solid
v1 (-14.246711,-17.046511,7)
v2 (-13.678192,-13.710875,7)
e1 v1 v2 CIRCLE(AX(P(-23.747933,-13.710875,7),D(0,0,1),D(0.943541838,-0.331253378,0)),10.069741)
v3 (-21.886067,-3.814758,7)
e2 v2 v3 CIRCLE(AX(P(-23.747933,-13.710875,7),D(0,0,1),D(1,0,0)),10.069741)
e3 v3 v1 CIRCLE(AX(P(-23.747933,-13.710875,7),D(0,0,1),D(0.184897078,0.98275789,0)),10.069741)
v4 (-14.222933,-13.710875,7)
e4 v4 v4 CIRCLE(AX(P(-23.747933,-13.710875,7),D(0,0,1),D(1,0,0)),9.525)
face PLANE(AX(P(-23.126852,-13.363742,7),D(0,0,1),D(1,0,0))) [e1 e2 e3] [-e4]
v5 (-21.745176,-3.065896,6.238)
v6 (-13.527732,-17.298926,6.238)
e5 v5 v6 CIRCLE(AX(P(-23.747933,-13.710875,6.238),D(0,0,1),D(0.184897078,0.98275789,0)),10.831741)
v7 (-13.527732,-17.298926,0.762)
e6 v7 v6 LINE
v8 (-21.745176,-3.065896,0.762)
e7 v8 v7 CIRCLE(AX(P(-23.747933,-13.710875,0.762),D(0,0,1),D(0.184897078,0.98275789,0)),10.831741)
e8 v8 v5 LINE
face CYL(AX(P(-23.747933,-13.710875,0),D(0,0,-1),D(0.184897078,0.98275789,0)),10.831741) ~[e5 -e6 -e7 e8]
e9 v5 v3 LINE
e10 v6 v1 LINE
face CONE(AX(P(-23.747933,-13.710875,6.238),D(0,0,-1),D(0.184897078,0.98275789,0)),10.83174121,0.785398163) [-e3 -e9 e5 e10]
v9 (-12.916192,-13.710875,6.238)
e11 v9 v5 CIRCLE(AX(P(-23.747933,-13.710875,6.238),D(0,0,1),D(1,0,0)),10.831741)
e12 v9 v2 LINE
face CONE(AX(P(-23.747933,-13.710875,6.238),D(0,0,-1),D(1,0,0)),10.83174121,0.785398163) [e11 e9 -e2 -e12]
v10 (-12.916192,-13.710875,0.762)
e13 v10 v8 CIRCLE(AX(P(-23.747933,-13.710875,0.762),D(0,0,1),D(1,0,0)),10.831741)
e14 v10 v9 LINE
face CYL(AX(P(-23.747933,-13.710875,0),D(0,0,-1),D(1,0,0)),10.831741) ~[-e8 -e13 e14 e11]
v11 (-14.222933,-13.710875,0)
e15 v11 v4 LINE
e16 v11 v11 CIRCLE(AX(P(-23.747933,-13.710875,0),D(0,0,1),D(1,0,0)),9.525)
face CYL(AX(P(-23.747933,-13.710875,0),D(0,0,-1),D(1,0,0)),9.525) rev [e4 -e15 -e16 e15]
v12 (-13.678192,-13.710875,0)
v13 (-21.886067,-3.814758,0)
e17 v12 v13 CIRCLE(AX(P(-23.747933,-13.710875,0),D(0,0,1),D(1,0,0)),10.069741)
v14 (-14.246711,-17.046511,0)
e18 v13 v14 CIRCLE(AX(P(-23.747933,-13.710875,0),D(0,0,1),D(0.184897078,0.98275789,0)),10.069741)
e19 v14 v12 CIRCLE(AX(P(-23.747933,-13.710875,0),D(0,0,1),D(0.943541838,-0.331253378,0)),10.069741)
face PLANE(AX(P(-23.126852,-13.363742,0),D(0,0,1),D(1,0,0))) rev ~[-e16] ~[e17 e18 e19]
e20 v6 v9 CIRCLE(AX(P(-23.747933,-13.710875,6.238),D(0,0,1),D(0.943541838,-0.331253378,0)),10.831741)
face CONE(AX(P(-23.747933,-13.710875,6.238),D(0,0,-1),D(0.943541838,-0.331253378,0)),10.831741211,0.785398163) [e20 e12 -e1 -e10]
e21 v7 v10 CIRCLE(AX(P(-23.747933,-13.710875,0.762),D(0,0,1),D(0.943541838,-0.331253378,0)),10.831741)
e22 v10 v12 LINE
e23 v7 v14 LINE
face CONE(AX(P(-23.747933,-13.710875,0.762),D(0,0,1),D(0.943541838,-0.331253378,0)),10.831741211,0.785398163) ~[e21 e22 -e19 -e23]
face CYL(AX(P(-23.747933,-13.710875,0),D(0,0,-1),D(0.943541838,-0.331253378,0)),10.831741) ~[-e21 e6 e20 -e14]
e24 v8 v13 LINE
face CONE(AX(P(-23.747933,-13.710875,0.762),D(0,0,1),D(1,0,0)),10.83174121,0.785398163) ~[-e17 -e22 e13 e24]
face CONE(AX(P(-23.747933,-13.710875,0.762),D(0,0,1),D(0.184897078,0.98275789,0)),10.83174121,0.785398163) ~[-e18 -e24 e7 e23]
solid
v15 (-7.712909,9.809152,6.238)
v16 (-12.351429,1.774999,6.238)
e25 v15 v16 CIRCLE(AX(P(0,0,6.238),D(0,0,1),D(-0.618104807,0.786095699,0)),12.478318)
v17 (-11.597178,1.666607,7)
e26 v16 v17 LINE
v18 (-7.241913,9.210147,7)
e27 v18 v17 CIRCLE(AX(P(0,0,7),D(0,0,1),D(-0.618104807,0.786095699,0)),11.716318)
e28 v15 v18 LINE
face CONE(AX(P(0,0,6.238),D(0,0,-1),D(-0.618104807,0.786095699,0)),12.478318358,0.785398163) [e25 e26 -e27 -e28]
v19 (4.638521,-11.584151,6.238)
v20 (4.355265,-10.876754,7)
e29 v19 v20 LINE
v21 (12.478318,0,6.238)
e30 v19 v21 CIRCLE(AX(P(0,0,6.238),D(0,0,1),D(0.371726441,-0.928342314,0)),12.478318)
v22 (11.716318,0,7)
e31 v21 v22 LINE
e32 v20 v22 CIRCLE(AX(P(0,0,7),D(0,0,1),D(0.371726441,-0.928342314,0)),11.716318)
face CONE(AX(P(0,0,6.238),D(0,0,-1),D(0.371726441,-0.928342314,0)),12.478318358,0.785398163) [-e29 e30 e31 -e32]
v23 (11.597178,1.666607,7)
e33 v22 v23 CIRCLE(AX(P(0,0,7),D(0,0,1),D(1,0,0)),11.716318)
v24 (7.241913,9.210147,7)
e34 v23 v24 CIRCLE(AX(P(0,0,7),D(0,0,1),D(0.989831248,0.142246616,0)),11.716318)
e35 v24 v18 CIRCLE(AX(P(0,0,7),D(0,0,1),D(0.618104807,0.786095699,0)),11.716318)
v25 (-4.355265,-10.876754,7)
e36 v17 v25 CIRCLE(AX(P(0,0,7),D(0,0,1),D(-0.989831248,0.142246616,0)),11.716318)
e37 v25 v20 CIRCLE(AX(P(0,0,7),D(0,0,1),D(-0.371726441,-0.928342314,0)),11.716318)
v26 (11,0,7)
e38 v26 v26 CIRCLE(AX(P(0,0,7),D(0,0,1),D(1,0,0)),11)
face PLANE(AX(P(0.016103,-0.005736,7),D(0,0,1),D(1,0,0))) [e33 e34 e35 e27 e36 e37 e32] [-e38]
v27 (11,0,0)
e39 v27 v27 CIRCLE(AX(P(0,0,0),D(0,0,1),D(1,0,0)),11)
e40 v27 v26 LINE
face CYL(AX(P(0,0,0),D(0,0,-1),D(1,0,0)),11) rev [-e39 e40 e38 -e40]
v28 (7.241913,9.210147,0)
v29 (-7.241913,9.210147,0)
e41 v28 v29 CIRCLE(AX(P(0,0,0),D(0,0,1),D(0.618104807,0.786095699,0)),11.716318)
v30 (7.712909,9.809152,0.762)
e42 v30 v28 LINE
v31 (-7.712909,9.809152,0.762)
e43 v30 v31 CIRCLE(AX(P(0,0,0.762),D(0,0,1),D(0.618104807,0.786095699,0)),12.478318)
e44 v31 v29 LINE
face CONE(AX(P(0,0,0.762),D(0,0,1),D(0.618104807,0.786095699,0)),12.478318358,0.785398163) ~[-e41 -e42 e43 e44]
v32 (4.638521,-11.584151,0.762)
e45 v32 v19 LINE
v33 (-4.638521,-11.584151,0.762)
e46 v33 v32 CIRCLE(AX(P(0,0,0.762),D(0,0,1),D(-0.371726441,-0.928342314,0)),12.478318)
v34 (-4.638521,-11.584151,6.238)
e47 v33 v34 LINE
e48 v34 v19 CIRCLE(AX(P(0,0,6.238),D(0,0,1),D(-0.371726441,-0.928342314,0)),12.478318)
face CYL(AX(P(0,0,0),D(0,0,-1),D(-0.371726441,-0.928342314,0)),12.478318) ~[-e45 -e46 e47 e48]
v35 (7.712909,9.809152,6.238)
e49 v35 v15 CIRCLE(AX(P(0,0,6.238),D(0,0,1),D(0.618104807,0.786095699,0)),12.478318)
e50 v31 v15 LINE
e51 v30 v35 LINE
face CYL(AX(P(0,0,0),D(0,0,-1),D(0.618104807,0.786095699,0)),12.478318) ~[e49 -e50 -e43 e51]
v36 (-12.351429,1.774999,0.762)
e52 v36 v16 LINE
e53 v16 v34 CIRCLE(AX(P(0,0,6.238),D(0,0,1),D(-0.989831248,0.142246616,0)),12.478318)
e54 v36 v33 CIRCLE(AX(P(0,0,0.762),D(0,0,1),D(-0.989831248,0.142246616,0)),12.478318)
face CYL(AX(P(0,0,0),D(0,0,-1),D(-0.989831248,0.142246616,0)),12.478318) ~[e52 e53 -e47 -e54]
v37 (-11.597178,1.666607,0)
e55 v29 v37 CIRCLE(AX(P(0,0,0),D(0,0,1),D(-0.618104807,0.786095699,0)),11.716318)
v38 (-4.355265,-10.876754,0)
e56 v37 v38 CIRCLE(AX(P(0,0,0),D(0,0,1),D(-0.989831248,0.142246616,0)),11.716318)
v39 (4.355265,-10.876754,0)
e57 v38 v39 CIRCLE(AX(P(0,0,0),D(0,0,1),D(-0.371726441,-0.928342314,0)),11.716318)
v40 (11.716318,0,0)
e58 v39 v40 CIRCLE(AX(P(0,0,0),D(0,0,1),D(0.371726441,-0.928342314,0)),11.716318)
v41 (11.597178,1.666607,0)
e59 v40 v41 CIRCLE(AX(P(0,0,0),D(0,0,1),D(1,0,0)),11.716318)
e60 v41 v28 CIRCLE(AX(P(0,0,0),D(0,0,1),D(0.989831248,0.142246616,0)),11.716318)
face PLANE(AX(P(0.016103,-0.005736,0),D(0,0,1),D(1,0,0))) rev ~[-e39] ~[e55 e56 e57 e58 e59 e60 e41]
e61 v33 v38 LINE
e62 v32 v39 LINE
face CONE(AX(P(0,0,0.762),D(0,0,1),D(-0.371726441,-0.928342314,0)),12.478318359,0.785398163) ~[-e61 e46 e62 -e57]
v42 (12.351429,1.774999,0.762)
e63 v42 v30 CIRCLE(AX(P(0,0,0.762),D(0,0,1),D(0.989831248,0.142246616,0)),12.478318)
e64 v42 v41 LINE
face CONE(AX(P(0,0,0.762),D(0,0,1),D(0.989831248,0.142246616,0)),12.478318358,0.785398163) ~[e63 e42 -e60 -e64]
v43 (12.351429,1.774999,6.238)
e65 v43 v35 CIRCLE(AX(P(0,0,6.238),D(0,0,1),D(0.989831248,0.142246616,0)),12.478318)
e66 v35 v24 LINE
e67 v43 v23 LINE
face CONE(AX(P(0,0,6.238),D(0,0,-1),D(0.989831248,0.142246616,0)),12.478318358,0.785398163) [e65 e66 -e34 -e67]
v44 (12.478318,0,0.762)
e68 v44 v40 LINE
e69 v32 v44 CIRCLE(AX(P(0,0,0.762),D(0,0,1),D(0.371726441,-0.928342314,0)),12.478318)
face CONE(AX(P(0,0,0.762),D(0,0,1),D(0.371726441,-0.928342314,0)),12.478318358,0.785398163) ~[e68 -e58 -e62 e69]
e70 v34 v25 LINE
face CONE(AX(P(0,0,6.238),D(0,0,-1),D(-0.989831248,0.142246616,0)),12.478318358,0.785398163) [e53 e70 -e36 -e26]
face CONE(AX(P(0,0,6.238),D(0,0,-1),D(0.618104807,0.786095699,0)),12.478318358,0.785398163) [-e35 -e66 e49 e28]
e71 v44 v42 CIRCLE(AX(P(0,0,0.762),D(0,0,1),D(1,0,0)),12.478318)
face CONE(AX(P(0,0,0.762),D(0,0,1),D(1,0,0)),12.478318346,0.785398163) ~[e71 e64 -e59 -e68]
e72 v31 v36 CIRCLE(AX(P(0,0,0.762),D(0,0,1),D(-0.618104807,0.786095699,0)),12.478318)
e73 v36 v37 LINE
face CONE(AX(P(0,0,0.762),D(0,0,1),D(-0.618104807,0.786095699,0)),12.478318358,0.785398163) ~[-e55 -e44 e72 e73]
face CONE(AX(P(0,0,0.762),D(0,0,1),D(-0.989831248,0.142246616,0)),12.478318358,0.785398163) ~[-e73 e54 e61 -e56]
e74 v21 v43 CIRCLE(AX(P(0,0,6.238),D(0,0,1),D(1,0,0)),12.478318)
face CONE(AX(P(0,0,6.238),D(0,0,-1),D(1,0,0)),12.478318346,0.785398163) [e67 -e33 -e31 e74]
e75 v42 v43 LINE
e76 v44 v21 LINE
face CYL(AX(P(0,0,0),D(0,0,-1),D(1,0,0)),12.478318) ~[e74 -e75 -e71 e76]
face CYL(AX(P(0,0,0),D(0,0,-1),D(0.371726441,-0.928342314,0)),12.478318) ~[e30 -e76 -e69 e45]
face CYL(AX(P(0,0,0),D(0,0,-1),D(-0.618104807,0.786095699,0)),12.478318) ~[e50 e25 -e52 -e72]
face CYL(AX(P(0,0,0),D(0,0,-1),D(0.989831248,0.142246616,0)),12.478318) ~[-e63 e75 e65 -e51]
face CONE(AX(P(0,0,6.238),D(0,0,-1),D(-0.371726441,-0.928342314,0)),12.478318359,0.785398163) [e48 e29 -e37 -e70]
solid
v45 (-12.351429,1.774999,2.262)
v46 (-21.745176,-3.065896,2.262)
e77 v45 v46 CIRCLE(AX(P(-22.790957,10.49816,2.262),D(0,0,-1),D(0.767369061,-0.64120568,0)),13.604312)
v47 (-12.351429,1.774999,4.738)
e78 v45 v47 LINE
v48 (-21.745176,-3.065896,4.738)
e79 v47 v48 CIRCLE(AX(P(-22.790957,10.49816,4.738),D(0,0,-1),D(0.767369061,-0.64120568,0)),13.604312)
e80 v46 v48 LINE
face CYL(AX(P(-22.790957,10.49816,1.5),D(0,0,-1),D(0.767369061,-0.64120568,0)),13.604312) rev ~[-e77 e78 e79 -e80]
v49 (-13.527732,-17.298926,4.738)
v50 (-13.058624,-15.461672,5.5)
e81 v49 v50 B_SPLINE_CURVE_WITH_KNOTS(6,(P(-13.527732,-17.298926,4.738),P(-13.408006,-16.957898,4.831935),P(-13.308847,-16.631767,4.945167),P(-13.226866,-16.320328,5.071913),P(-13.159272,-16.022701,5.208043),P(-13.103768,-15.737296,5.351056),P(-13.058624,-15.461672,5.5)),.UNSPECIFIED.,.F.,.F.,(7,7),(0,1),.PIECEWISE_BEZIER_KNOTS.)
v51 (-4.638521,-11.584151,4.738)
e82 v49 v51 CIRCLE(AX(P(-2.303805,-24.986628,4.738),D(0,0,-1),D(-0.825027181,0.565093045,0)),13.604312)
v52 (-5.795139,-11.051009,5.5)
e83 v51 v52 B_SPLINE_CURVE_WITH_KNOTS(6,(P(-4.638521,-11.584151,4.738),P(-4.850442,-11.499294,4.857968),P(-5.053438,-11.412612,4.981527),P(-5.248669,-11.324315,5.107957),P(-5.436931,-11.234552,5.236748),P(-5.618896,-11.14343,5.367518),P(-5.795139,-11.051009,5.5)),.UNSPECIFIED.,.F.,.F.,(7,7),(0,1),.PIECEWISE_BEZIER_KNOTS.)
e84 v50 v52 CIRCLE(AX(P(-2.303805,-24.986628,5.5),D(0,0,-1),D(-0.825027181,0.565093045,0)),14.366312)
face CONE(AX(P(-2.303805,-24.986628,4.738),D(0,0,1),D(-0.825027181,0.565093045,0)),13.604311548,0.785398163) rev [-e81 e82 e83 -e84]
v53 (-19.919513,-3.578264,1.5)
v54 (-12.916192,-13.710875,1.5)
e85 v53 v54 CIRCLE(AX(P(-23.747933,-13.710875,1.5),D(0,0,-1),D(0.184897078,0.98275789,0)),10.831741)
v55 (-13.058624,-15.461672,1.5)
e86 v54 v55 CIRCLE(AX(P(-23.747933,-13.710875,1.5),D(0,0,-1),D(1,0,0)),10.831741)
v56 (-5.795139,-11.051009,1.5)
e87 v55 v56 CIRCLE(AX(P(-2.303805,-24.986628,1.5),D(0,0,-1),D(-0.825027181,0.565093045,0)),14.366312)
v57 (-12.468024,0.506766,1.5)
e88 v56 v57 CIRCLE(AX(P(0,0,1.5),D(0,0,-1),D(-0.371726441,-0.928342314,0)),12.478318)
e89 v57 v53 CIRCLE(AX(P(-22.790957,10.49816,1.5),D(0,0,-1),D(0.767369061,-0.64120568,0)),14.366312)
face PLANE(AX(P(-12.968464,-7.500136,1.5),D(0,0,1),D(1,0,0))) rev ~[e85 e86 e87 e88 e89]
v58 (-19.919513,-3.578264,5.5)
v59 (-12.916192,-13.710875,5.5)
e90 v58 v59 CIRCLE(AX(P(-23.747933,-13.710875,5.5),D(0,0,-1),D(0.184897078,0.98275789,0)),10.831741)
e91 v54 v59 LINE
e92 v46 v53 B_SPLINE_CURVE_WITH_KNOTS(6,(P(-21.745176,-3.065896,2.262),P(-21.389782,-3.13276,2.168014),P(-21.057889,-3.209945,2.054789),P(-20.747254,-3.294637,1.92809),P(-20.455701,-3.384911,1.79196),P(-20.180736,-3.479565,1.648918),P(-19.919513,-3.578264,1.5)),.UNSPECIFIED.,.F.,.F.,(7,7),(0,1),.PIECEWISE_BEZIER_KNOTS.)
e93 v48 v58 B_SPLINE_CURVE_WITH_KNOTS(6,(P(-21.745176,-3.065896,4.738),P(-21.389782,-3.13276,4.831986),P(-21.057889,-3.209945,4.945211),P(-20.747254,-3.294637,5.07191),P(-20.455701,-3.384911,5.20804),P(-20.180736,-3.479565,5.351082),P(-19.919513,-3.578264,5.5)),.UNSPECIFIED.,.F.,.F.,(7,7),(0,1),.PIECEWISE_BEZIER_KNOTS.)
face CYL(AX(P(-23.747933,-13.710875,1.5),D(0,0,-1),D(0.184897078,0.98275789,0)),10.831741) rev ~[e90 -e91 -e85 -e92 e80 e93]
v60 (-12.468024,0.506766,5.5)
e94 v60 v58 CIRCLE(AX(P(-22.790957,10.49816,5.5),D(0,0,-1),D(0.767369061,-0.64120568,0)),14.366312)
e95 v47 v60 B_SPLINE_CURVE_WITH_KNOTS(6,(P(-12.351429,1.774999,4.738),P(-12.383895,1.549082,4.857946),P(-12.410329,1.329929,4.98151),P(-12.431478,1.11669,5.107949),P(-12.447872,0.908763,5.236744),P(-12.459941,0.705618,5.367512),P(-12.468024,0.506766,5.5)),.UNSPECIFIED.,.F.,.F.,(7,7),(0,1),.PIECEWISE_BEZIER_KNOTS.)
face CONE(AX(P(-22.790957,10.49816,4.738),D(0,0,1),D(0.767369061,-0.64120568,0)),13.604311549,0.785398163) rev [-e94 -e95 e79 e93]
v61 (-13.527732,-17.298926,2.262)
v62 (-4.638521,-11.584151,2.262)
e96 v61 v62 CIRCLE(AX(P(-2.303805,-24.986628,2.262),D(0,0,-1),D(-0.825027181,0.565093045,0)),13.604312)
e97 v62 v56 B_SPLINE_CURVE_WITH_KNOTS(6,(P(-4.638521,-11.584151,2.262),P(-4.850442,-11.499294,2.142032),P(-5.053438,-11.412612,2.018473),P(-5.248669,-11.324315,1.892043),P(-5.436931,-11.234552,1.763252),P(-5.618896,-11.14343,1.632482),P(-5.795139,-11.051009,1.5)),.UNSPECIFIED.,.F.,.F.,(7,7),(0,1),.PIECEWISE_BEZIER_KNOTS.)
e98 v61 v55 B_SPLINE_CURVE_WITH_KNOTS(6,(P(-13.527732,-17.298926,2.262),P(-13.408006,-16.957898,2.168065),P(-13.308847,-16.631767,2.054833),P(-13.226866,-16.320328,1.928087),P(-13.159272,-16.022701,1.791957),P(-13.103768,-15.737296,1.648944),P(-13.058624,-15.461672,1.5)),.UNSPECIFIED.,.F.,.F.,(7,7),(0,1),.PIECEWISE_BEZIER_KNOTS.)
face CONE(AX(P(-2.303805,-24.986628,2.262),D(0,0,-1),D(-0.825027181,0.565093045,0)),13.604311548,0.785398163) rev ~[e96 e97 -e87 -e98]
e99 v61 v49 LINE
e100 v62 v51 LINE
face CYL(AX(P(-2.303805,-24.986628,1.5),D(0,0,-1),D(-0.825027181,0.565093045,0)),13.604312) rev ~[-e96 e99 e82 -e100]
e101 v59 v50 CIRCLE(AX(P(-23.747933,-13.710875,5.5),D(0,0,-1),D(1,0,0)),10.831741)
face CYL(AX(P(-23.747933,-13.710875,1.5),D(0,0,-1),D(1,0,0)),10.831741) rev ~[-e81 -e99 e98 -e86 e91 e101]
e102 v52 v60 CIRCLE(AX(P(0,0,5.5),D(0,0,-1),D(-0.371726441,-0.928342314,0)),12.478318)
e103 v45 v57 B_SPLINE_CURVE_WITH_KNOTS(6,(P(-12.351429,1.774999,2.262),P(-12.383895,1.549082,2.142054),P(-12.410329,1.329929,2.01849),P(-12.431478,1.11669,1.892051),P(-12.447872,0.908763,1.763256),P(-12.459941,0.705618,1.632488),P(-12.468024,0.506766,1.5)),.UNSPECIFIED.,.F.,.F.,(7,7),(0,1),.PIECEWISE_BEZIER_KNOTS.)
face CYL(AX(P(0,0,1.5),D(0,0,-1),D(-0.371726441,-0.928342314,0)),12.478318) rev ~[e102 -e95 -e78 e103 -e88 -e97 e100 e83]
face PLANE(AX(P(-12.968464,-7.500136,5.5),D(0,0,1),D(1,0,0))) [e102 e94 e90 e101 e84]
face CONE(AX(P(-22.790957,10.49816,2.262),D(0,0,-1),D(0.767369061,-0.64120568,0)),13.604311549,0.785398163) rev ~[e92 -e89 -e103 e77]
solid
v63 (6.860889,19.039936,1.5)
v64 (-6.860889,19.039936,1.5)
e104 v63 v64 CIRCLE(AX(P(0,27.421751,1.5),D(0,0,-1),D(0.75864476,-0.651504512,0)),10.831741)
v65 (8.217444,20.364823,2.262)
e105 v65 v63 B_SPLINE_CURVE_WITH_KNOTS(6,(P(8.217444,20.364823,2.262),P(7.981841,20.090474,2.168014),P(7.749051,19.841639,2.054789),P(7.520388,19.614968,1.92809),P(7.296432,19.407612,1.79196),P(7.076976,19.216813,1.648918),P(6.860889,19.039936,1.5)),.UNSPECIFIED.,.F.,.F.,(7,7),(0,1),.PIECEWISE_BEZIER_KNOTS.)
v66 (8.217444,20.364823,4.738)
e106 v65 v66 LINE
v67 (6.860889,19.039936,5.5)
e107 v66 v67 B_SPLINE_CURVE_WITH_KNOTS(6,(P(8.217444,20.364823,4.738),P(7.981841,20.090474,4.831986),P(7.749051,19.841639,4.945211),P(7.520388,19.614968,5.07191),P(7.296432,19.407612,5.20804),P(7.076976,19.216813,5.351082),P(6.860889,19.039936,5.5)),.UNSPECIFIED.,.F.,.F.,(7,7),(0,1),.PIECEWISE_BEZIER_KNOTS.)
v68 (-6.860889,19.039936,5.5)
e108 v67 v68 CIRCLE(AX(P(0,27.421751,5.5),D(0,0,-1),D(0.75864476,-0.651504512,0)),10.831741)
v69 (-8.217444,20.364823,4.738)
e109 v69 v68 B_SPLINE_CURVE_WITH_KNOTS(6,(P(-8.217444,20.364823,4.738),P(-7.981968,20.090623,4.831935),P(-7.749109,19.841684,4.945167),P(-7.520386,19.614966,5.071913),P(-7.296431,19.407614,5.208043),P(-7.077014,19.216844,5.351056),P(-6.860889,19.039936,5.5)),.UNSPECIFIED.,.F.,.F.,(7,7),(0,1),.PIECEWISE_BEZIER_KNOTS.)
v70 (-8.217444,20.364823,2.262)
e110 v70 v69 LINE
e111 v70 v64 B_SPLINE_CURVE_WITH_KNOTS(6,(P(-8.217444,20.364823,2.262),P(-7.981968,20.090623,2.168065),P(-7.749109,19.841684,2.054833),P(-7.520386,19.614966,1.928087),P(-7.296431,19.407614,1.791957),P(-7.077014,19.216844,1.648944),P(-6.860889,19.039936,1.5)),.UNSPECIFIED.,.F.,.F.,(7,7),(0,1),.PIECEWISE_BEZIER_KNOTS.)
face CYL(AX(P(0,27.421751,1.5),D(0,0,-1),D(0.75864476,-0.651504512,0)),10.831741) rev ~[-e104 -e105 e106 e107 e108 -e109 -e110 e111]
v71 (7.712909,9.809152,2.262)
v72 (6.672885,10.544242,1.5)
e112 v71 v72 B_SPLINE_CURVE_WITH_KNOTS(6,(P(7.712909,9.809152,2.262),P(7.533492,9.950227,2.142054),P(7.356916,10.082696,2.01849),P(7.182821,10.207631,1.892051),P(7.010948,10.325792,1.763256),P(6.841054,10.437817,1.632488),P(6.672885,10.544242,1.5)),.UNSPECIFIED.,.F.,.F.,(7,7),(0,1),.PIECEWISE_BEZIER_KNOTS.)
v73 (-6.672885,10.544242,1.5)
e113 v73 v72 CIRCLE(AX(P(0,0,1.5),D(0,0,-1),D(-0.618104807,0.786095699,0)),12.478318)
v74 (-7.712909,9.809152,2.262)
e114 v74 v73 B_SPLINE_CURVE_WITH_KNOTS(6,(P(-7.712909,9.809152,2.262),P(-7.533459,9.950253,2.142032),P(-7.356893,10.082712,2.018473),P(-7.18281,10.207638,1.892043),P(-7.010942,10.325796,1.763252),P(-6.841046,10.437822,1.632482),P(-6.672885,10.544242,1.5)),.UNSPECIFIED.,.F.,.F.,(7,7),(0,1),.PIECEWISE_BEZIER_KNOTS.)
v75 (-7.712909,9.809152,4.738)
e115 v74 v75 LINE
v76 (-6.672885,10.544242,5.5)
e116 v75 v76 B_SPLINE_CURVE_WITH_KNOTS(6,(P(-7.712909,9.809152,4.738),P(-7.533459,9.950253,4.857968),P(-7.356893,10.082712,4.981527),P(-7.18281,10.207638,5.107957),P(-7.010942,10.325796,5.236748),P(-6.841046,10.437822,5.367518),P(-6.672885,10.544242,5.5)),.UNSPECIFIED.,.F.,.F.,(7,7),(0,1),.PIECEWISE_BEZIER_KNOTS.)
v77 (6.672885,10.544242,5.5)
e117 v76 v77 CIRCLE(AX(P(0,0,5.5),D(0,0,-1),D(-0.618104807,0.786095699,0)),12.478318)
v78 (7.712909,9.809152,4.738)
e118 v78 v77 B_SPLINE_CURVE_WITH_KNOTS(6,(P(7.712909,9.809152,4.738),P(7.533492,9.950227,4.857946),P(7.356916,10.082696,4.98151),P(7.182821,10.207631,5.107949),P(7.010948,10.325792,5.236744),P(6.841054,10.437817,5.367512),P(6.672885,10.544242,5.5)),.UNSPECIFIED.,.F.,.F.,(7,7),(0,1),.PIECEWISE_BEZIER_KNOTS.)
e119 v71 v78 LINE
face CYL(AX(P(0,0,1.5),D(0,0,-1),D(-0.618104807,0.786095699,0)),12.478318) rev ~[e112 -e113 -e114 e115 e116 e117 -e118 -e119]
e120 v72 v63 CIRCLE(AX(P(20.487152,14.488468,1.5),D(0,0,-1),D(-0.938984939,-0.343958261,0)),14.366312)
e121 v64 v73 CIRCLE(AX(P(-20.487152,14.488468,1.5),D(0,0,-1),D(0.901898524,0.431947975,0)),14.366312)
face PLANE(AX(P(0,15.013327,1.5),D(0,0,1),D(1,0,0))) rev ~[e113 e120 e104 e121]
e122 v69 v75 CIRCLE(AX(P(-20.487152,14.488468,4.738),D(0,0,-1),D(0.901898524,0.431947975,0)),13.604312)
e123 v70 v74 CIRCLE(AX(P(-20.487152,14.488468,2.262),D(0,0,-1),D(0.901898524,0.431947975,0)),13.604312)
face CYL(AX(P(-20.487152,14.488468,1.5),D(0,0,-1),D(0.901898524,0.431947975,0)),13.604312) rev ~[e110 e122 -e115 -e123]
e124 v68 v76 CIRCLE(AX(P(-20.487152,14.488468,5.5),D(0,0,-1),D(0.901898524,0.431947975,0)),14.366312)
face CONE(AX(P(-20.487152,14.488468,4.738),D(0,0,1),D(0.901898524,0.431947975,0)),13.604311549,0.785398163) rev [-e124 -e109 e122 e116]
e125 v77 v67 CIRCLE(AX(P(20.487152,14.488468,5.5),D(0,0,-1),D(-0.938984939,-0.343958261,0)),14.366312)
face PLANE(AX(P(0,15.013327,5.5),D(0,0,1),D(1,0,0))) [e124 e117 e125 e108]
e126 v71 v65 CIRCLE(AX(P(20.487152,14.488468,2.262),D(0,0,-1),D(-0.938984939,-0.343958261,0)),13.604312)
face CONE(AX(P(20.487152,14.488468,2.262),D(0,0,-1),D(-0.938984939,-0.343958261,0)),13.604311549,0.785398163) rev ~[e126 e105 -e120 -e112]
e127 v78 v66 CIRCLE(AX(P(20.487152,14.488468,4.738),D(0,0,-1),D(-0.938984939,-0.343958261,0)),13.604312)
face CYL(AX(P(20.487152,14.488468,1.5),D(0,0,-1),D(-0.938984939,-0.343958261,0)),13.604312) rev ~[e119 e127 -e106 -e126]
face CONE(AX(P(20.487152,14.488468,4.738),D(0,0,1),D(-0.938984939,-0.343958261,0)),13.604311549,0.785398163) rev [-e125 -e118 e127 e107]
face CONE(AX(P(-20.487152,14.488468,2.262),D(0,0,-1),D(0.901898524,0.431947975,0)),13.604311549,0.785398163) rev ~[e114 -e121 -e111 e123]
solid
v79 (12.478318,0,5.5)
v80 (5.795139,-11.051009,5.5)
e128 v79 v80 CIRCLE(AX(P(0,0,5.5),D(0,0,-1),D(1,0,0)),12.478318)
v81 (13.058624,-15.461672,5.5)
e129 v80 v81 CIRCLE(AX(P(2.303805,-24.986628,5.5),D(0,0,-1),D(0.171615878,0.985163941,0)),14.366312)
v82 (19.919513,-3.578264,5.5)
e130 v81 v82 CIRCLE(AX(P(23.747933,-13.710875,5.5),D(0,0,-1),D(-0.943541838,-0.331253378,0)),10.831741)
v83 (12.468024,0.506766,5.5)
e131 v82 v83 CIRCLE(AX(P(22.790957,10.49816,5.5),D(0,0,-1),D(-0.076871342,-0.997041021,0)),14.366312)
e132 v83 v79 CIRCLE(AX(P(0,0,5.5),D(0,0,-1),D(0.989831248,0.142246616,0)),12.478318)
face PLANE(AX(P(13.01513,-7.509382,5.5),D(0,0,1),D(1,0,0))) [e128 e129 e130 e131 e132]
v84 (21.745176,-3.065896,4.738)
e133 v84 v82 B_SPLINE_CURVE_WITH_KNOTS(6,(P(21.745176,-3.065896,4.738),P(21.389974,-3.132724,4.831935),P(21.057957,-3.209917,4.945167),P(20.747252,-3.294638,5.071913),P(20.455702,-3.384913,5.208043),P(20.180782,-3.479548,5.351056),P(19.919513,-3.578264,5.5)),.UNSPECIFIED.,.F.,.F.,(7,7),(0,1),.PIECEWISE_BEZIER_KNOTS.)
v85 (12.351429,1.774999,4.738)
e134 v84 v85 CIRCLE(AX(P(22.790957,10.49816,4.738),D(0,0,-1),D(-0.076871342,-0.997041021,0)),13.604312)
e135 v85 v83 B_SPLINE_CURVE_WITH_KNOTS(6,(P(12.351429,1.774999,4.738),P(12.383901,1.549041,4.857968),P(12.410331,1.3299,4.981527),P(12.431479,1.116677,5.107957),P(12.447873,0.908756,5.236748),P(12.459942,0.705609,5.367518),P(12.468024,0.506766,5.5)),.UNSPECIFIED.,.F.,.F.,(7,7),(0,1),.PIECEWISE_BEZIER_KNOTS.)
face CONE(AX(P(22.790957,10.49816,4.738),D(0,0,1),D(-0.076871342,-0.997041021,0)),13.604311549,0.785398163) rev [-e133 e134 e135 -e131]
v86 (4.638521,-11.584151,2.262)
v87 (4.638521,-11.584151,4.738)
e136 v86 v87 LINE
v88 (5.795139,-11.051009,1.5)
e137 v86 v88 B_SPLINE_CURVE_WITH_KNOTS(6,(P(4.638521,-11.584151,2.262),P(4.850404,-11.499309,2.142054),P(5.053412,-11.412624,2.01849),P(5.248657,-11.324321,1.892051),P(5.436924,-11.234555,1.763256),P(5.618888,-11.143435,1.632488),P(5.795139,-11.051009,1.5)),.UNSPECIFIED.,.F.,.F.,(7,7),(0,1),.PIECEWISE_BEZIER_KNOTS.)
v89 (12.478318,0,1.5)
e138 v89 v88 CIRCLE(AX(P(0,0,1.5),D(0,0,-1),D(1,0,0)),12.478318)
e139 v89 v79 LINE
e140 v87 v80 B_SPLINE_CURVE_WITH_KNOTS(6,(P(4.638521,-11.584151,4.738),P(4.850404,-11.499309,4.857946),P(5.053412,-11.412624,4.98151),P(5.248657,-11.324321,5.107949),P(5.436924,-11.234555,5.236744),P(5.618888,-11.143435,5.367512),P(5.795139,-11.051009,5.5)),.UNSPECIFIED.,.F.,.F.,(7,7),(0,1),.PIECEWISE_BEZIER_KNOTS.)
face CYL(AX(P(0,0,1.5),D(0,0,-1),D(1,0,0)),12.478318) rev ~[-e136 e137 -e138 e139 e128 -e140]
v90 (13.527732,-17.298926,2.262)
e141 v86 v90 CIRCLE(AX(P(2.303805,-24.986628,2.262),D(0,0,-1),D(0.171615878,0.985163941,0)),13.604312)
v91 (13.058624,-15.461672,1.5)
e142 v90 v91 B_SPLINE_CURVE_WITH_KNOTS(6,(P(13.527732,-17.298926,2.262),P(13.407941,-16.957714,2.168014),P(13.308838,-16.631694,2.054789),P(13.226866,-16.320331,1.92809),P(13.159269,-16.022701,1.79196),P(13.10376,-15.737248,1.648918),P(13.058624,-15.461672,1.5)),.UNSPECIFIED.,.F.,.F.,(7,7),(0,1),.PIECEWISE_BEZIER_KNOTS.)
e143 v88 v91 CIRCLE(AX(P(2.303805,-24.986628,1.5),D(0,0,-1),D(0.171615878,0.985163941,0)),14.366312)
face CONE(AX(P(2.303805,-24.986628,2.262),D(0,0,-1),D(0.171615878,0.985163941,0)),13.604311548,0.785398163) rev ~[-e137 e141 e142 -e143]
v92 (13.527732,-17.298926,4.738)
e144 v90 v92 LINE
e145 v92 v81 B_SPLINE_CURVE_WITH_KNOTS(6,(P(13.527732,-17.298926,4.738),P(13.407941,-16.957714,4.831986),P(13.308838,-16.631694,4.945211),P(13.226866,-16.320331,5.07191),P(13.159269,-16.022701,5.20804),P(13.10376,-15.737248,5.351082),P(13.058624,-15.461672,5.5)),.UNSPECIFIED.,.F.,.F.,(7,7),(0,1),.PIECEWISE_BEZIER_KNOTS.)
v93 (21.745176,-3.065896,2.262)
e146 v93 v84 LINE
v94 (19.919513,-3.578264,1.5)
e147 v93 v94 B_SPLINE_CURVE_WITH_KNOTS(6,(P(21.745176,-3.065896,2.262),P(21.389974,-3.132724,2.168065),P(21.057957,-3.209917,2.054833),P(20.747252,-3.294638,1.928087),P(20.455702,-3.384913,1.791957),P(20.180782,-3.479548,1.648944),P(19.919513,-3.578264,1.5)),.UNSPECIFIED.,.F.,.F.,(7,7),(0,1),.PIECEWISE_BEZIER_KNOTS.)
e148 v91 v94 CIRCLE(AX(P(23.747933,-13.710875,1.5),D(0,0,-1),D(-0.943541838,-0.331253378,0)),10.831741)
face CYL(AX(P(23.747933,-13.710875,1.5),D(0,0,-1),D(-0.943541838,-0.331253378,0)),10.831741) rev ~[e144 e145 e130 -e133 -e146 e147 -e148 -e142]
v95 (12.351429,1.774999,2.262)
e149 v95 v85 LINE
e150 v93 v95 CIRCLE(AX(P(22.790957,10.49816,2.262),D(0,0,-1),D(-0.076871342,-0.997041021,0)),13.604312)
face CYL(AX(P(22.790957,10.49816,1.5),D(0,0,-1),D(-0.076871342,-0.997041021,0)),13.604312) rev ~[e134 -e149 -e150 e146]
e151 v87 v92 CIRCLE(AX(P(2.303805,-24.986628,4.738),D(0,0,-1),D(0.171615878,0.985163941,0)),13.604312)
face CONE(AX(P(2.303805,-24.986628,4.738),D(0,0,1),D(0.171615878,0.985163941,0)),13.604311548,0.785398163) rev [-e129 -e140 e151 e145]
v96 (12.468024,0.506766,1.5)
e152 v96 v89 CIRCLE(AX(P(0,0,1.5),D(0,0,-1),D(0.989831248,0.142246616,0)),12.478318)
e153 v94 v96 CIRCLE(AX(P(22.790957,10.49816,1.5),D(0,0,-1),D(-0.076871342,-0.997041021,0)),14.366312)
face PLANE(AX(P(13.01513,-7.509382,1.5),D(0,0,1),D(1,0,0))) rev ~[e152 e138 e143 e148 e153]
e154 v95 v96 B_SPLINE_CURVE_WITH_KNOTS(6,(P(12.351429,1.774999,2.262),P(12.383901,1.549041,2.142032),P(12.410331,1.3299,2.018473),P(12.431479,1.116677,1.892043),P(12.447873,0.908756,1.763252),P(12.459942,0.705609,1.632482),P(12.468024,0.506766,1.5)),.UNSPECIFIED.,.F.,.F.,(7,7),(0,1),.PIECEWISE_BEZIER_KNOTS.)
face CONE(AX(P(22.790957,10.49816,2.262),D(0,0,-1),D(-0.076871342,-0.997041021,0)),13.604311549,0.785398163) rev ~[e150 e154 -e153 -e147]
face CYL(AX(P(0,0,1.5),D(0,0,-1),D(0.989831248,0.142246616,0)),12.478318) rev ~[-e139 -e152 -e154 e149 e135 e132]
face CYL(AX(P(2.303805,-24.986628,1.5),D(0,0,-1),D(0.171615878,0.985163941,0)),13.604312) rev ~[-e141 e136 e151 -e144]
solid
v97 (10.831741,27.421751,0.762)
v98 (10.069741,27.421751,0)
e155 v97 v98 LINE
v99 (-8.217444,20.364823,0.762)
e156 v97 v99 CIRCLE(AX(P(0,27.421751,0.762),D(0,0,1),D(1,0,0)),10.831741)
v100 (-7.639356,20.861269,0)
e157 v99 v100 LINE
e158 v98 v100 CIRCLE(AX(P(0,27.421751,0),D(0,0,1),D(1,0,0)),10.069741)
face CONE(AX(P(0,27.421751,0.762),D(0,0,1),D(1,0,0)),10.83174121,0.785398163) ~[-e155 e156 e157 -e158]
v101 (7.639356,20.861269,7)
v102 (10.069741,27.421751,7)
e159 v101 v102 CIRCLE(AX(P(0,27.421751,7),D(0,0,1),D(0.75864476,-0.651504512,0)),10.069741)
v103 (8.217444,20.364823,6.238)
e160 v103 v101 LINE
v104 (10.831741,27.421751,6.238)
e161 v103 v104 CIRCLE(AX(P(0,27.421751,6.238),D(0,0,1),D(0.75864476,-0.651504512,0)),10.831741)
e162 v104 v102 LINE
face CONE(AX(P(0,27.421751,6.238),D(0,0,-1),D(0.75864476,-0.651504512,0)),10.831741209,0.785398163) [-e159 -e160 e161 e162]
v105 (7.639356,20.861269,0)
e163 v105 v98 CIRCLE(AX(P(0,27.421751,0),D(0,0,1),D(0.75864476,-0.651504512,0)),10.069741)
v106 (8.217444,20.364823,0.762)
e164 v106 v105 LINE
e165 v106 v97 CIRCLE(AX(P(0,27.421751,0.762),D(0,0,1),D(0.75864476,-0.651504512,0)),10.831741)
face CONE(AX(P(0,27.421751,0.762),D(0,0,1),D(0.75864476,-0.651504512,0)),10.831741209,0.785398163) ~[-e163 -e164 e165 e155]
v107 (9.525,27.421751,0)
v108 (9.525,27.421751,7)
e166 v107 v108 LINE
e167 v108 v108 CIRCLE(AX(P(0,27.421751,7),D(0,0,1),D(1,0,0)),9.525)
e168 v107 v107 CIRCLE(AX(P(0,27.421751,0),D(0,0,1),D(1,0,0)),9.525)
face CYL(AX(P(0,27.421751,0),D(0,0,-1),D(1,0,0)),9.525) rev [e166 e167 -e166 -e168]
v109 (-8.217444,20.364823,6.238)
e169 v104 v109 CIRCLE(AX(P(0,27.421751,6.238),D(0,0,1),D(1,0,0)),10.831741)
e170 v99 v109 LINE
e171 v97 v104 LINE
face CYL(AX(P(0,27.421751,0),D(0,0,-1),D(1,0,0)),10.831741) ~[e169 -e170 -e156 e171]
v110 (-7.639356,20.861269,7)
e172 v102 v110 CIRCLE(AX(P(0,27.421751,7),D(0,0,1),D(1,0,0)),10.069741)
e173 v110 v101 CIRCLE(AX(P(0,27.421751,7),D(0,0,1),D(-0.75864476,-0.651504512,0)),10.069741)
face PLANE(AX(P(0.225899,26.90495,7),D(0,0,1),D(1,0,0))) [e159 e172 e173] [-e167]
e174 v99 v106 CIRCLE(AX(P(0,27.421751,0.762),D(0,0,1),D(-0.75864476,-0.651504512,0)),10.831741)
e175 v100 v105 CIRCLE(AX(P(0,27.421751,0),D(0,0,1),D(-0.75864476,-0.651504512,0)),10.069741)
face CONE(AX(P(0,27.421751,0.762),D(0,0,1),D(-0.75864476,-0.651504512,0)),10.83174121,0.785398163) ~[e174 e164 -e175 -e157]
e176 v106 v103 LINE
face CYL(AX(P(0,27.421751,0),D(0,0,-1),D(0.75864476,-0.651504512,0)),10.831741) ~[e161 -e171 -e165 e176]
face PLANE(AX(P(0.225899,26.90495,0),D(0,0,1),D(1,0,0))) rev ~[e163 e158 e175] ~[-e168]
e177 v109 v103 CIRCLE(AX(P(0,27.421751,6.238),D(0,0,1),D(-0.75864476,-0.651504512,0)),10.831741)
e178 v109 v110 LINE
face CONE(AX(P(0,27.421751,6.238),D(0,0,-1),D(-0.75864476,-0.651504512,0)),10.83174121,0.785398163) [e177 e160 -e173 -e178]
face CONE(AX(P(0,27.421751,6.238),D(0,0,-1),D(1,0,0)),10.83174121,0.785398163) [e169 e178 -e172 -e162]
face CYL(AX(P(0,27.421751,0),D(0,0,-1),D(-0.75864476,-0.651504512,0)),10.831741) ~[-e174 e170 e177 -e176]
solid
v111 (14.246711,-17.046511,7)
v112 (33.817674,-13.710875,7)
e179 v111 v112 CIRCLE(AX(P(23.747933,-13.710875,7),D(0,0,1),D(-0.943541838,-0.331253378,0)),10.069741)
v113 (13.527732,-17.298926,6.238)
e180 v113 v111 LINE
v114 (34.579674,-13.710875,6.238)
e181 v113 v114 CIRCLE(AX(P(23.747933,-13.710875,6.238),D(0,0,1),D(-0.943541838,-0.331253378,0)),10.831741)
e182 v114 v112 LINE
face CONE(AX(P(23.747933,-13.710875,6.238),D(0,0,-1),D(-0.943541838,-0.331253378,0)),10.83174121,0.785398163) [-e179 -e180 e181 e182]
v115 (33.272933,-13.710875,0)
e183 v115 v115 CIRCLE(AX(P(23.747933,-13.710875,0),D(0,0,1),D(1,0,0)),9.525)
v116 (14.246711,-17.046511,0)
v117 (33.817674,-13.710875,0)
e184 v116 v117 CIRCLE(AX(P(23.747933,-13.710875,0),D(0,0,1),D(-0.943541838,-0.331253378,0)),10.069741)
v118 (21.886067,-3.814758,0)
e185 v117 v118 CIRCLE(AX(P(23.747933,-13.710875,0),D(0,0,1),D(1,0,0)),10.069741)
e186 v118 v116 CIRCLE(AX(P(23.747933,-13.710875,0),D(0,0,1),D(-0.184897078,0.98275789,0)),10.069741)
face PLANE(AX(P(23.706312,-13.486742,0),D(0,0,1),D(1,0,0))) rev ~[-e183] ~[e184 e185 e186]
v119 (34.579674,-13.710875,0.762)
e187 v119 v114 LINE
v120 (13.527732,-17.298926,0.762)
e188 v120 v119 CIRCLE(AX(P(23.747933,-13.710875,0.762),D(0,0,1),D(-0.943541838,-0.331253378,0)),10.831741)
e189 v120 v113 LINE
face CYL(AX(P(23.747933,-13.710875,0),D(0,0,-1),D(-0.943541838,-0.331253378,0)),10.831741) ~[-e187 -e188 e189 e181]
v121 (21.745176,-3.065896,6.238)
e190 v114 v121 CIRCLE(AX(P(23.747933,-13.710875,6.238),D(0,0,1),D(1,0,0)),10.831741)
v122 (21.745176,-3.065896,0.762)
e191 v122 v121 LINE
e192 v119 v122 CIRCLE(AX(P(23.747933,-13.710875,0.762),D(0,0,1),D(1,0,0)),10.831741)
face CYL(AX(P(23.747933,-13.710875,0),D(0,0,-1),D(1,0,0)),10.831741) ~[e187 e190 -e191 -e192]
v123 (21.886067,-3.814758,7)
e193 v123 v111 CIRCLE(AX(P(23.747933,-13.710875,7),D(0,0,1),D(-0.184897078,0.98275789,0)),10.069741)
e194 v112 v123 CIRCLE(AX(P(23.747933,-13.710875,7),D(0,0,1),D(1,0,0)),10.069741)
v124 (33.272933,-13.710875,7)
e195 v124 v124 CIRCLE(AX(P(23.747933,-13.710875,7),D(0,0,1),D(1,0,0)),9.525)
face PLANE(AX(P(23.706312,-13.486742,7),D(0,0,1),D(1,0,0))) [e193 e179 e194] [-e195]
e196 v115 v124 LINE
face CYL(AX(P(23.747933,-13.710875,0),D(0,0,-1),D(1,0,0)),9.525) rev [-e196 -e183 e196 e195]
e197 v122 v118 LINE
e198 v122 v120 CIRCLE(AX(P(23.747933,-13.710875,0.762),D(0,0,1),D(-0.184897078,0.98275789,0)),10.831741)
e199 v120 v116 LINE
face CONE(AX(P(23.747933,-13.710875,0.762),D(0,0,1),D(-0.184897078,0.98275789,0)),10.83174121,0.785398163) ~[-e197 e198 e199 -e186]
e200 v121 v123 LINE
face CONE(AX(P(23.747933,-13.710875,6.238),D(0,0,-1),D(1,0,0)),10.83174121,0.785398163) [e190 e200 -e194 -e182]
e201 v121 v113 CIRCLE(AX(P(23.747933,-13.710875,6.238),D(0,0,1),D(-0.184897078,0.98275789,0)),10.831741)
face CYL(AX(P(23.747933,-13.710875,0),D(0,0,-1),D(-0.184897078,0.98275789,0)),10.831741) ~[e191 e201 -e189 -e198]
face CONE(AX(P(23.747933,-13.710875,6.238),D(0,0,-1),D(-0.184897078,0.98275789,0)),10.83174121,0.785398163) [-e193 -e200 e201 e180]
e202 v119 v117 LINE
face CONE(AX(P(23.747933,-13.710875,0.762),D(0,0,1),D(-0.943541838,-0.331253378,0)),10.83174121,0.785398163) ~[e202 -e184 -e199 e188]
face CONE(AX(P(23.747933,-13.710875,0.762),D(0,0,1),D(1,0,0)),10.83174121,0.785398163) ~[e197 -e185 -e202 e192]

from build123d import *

# Parameters (mm, degrees)
F0_R      = 11
F1_DEPTH  = 7
F0_R_2    = 9.525
F2_DEPTH  = 4
F4_SIZE   = 0.762
F4_2_SIZE = 0.762
F4_3_SIZE = 0.762
F4_4_SIZE = 0.762
F4_5_SIZE = 0.762
F4_6_SIZE = 0.762
F5_SIZE   = 0.762


with BuildPart() as f1:
    # F0 (on Top) → F1 (new body)
    with BuildSketch(Plane.XY):
        with BuildLine():
            ThreePointArc((7.7129085609, 9.8091523887), (0, 12.4783183584), (-7.7129085609, 9.8091523887))
            ThreePointArc((-7.7129085609, 9.8091523887), (-10.8065406949, 6.2391591792), (-12.3514294386, 1.7749985565))
            ThreePointArc((-12.3514294386, 1.7749985565), (-10.8065406949, -6.2391591792), (-4.6385208777, -11.5841509452))
            ThreePointArc((-4.6385208777, -11.5841509452), (0, -12.4783183584), (4.6385208777, -11.5841509452))
            ThreePointArc((4.6385208777, -11.5841509452), (10.3341513749, -6.993836173), (12.4783183584, 0))
            ThreePointArc((12.4783183584, 0), (12.4465557037, 0.8897641083), (12.3514294386, 1.7749985565))
            ThreePointArc((12.3514294386, 1.7749985565), (10.8065406949, 6.2391591792), (7.7129085609, 9.8091523887))
        make_face()
        Circle(F0_R, mode=Mode.SUBTRACT)
    extrude(amount=F1_DEPTH)

    # F5
    f5_edges = [f1.edges().sort_by_distance(p)[0] for p in [
        (4.638521, 11.584151, 0),
        (4.638521, 11.584151, 7),
    ]]
    chamfer(f5_edges, length=F5_SIZE)


with BuildPart() as f1b:
    # F0 (on Top) → F1, piece 2 (new body)
    with BuildSketch(Plane.XY):
        with BuildLine():
            ThreePointArc((34.5796740347, -13.7108754092), (30.6628901227, -5.3736106775), (21.7451755252, -3.0658962719))
            ThreePointArc((21.7451755252, -3.0658962719), (14.36736977, -8.2950048043), (13.5277318194, -17.2989262787))
            ThreePointArc((13.5277318194, -17.2989262787), (25.567829145, -24.3886371137), (34.5796740347, -13.7108754092))
        make_face()
        with Locations((23.7479328249, -13.7108754092)):
            Circle(F0_R_2, mode=Mode.SUBTRACT)
    extrude(amount=F1_DEPTH)

    # F4
    f4_edges = [f1b.edges().sort_by_distance(p)[0] for p in [
        (33.968134, -10.122825, 7),
        (33.968134, -10.122825, 0),
    ]]
    chamfer(f4_edges, length=F4_SIZE)


with BuildPart() as f1c:
    # F0 (on Top) → F1, piece 3 (new body)
    with BuildSketch(Plane.XY):
        with BuildLine():
            ThreePointArc((-12.9161916152, -13.7108754092), (-15.4106680933, -6.7959181114), (-21.7451755252, -3.0658962719))
            ThreePointArc((-21.7451755252, -3.0658962719), (-33.1284958798, -19.126746014), (-13.5277318194, -17.2989262787))
            ThreePointArc((-13.5277318194, -17.2989262787), (-13.0701711204, -15.5307717293), (-12.9161916152, -13.7108754092))
        make_face()
        with Locations((-23.7479328249, -13.7108754092)):
            Circle(F0_R_2, mode=Mode.SUBTRACT)
    extrude(amount=F1_DEPTH)

    # F4#2
    f4_2_edges = [f1c.edges().sort_by_distance(p)[0] for p in [
        (-33.968134, -10.122825, 0),
        (-33.968134, -10.122825, 7),
    ]]
    chamfer(f4_2_edges, length=F4_2_SIZE)


with BuildPart() as f1d:
    # F0 (on Top) → F1, piece 4 (new body)
    with BuildSketch(Plane.XY):
        with BuildLine():
            ThreePointArc((8.2174437058, 20.3648225505), (10.1571610518, 23.6589464115), (10.8317412098, 27.4217508183))
            ThreePointArc((10.8317412098, 27.4217508183), (-3.7628044068, 37.5789118701), (-8.2174437058, 20.3648225505))
            ThreePointArc((-8.2174437058, 20.3648225505), (0, 16.5900096086), (8.2174437058, 20.3648225505))
        make_face()
        with Locations((0, 27.4217508183)):
            Circle(F0_R_2, mode=Mode.SUBTRACT)
    extrude(amount=F1_DEPTH)

    # F4#3
    f4_3_edges = [f1d.edges().sort_by_distance(p)[0] for p in [
        (8.217444, 34.478679, 7),
        (8.217444, 34.478679, 0),
    ]]
    chamfer(f4_3_edges, length=F4_3_SIZE)


with BuildPart() as f2:
    # F0 (on Top) → F2 (new body)
    with BuildSketch(Plane.XY):
        with BuildLine():
            ThreePointArc((21.7451755252, -3.0658962719), (16.5590514817, -1.5948393798), (12.3514294386, 1.7749985565))
            ThreePointArc((12.3514294386, 1.7749985565), (12.4465557037, 0.8897641083), (12.4783183584, 0))
            ThreePointArc((12.4783183584, 0), (10.3341513749, -6.993836173), (4.6385208777, -11.5841509452))
            ThreePointArc((4.6385208777, -11.5841509452), (9.6606971587, -13.5431395558), (13.5277318194, -17.2989262787))
            ThreePointArc((13.5277318194, -17.2989262787), (14.36736977, -8.2950048043), (21.7451755252, -3.0658962719))
        make_face()
    extrude(amount=F2_DEPTH)


with BuildPart() as f2b:
    # F0 (on Top) → F2, piece 2 (new body)
    with BuildSketch(Plane.XY):
        with BuildLine():
            ThreePointArc((-4.6385208777, -11.5841509452), (-10.8065406949, -6.2391591792), (-12.3514294386, 1.7749985565))
            ThreePointArc((-12.3514294386, 1.7749985565), (-16.5590514817, -1.5948393798), (-21.7451755252, -3.0658962719))
            ThreePointArc((-21.7451755252, -3.0658962719), (-15.4106680933, -6.7959181114), (-12.9161916152, -13.7108754092))
            ThreePointArc((-12.9161916152, -13.7108754092), (-13.0701711204, -15.5307717293), (-13.5277318194, -17.2989262787))
            ThreePointArc((-13.5277318194, -17.2989262787), (-9.6606971587, -13.5431395558), (-4.6385208777, -11.5841509452))
        make_face()
    extrude(amount=F2_DEPTH)


with BuildPart() as f2c:
    # F0 (on Top) → F2, piece 3 (new body)
    with BuildSketch(Plane.XY):
        with BuildLine():
            ThreePointArc((8.2174437058, 20.3648225505), (0, 16.5900096086), (-8.2174437058, 20.3648225505))
            ThreePointArc((-8.2174437058, 20.3648225505), (-6.898354323, 15.1379789356), (-7.7129085609, 9.8091523887))
            ThreePointArc((-7.7129085609, 9.8091523887), (0, 12.4783183584), (7.7129085609, 9.8091523887))
            ThreePointArc((7.7129085609, 9.8091523887), (6.898354323, 15.1379789356), (8.2174437058, 20.3648225505))
        make_face()
    extrude(amount=F2_DEPTH)


with BuildPart() as f2c_1:
    # F3: moved
    add(f2c.part.moved(Location((0, 0, 1.5))))

    # F4#5
    f4_5_edges = [f2c_1.edges().sort_by_distance(p)[0] for p in [
        (6.898354, 15.137979, 5.5),
        (6.898354, 15.137979, 1.5),
        (-6.898354, 15.137979, 1.5),
        (-6.898354, 15.137979, 5.5),
    ]]
    chamfer(f4_5_edges, length=F4_5_SIZE)


with BuildPart() as f2b_1:
    # F3: moved
    add(f2b.part.moved(Location((0, 0, 1.5))))

    # F4#6
    f4_6_edges = [f2b_1.edges().sort_by_distance(p)[0] for p in [
        (-9.660697, -13.54314, 1.5),
        (-9.660697, -13.54314, 5.5),
        (-16.559051, -1.594839, 5.5),
        (-16.559051, -1.594839, 1.5),
    ]]
    chamfer(f4_6_edges, length=F4_6_SIZE)


with BuildPart() as f2_1:
    # F3: moved
    add(f2.part.moved(Location((0, 0, 1.5))))

    # F4#4
    f4_4_edges = [f2_1.edges().sort_by_distance(p)[0] for p in [
        (9.660697, -13.54314, 5.5),
        (9.660697, -13.54314, 1.5),
        (16.559051, -1.594839, 1.5),
        (16.559051, -1.594839, 5.5),
    ]]
    chamfer(f4_4_edges, length=F4_4_SIZE)


solid = Compound([f1.part, f1b.part, f1c.part, f1d.part, f2c_1.part, f2b_1.part, f2_1.part])
